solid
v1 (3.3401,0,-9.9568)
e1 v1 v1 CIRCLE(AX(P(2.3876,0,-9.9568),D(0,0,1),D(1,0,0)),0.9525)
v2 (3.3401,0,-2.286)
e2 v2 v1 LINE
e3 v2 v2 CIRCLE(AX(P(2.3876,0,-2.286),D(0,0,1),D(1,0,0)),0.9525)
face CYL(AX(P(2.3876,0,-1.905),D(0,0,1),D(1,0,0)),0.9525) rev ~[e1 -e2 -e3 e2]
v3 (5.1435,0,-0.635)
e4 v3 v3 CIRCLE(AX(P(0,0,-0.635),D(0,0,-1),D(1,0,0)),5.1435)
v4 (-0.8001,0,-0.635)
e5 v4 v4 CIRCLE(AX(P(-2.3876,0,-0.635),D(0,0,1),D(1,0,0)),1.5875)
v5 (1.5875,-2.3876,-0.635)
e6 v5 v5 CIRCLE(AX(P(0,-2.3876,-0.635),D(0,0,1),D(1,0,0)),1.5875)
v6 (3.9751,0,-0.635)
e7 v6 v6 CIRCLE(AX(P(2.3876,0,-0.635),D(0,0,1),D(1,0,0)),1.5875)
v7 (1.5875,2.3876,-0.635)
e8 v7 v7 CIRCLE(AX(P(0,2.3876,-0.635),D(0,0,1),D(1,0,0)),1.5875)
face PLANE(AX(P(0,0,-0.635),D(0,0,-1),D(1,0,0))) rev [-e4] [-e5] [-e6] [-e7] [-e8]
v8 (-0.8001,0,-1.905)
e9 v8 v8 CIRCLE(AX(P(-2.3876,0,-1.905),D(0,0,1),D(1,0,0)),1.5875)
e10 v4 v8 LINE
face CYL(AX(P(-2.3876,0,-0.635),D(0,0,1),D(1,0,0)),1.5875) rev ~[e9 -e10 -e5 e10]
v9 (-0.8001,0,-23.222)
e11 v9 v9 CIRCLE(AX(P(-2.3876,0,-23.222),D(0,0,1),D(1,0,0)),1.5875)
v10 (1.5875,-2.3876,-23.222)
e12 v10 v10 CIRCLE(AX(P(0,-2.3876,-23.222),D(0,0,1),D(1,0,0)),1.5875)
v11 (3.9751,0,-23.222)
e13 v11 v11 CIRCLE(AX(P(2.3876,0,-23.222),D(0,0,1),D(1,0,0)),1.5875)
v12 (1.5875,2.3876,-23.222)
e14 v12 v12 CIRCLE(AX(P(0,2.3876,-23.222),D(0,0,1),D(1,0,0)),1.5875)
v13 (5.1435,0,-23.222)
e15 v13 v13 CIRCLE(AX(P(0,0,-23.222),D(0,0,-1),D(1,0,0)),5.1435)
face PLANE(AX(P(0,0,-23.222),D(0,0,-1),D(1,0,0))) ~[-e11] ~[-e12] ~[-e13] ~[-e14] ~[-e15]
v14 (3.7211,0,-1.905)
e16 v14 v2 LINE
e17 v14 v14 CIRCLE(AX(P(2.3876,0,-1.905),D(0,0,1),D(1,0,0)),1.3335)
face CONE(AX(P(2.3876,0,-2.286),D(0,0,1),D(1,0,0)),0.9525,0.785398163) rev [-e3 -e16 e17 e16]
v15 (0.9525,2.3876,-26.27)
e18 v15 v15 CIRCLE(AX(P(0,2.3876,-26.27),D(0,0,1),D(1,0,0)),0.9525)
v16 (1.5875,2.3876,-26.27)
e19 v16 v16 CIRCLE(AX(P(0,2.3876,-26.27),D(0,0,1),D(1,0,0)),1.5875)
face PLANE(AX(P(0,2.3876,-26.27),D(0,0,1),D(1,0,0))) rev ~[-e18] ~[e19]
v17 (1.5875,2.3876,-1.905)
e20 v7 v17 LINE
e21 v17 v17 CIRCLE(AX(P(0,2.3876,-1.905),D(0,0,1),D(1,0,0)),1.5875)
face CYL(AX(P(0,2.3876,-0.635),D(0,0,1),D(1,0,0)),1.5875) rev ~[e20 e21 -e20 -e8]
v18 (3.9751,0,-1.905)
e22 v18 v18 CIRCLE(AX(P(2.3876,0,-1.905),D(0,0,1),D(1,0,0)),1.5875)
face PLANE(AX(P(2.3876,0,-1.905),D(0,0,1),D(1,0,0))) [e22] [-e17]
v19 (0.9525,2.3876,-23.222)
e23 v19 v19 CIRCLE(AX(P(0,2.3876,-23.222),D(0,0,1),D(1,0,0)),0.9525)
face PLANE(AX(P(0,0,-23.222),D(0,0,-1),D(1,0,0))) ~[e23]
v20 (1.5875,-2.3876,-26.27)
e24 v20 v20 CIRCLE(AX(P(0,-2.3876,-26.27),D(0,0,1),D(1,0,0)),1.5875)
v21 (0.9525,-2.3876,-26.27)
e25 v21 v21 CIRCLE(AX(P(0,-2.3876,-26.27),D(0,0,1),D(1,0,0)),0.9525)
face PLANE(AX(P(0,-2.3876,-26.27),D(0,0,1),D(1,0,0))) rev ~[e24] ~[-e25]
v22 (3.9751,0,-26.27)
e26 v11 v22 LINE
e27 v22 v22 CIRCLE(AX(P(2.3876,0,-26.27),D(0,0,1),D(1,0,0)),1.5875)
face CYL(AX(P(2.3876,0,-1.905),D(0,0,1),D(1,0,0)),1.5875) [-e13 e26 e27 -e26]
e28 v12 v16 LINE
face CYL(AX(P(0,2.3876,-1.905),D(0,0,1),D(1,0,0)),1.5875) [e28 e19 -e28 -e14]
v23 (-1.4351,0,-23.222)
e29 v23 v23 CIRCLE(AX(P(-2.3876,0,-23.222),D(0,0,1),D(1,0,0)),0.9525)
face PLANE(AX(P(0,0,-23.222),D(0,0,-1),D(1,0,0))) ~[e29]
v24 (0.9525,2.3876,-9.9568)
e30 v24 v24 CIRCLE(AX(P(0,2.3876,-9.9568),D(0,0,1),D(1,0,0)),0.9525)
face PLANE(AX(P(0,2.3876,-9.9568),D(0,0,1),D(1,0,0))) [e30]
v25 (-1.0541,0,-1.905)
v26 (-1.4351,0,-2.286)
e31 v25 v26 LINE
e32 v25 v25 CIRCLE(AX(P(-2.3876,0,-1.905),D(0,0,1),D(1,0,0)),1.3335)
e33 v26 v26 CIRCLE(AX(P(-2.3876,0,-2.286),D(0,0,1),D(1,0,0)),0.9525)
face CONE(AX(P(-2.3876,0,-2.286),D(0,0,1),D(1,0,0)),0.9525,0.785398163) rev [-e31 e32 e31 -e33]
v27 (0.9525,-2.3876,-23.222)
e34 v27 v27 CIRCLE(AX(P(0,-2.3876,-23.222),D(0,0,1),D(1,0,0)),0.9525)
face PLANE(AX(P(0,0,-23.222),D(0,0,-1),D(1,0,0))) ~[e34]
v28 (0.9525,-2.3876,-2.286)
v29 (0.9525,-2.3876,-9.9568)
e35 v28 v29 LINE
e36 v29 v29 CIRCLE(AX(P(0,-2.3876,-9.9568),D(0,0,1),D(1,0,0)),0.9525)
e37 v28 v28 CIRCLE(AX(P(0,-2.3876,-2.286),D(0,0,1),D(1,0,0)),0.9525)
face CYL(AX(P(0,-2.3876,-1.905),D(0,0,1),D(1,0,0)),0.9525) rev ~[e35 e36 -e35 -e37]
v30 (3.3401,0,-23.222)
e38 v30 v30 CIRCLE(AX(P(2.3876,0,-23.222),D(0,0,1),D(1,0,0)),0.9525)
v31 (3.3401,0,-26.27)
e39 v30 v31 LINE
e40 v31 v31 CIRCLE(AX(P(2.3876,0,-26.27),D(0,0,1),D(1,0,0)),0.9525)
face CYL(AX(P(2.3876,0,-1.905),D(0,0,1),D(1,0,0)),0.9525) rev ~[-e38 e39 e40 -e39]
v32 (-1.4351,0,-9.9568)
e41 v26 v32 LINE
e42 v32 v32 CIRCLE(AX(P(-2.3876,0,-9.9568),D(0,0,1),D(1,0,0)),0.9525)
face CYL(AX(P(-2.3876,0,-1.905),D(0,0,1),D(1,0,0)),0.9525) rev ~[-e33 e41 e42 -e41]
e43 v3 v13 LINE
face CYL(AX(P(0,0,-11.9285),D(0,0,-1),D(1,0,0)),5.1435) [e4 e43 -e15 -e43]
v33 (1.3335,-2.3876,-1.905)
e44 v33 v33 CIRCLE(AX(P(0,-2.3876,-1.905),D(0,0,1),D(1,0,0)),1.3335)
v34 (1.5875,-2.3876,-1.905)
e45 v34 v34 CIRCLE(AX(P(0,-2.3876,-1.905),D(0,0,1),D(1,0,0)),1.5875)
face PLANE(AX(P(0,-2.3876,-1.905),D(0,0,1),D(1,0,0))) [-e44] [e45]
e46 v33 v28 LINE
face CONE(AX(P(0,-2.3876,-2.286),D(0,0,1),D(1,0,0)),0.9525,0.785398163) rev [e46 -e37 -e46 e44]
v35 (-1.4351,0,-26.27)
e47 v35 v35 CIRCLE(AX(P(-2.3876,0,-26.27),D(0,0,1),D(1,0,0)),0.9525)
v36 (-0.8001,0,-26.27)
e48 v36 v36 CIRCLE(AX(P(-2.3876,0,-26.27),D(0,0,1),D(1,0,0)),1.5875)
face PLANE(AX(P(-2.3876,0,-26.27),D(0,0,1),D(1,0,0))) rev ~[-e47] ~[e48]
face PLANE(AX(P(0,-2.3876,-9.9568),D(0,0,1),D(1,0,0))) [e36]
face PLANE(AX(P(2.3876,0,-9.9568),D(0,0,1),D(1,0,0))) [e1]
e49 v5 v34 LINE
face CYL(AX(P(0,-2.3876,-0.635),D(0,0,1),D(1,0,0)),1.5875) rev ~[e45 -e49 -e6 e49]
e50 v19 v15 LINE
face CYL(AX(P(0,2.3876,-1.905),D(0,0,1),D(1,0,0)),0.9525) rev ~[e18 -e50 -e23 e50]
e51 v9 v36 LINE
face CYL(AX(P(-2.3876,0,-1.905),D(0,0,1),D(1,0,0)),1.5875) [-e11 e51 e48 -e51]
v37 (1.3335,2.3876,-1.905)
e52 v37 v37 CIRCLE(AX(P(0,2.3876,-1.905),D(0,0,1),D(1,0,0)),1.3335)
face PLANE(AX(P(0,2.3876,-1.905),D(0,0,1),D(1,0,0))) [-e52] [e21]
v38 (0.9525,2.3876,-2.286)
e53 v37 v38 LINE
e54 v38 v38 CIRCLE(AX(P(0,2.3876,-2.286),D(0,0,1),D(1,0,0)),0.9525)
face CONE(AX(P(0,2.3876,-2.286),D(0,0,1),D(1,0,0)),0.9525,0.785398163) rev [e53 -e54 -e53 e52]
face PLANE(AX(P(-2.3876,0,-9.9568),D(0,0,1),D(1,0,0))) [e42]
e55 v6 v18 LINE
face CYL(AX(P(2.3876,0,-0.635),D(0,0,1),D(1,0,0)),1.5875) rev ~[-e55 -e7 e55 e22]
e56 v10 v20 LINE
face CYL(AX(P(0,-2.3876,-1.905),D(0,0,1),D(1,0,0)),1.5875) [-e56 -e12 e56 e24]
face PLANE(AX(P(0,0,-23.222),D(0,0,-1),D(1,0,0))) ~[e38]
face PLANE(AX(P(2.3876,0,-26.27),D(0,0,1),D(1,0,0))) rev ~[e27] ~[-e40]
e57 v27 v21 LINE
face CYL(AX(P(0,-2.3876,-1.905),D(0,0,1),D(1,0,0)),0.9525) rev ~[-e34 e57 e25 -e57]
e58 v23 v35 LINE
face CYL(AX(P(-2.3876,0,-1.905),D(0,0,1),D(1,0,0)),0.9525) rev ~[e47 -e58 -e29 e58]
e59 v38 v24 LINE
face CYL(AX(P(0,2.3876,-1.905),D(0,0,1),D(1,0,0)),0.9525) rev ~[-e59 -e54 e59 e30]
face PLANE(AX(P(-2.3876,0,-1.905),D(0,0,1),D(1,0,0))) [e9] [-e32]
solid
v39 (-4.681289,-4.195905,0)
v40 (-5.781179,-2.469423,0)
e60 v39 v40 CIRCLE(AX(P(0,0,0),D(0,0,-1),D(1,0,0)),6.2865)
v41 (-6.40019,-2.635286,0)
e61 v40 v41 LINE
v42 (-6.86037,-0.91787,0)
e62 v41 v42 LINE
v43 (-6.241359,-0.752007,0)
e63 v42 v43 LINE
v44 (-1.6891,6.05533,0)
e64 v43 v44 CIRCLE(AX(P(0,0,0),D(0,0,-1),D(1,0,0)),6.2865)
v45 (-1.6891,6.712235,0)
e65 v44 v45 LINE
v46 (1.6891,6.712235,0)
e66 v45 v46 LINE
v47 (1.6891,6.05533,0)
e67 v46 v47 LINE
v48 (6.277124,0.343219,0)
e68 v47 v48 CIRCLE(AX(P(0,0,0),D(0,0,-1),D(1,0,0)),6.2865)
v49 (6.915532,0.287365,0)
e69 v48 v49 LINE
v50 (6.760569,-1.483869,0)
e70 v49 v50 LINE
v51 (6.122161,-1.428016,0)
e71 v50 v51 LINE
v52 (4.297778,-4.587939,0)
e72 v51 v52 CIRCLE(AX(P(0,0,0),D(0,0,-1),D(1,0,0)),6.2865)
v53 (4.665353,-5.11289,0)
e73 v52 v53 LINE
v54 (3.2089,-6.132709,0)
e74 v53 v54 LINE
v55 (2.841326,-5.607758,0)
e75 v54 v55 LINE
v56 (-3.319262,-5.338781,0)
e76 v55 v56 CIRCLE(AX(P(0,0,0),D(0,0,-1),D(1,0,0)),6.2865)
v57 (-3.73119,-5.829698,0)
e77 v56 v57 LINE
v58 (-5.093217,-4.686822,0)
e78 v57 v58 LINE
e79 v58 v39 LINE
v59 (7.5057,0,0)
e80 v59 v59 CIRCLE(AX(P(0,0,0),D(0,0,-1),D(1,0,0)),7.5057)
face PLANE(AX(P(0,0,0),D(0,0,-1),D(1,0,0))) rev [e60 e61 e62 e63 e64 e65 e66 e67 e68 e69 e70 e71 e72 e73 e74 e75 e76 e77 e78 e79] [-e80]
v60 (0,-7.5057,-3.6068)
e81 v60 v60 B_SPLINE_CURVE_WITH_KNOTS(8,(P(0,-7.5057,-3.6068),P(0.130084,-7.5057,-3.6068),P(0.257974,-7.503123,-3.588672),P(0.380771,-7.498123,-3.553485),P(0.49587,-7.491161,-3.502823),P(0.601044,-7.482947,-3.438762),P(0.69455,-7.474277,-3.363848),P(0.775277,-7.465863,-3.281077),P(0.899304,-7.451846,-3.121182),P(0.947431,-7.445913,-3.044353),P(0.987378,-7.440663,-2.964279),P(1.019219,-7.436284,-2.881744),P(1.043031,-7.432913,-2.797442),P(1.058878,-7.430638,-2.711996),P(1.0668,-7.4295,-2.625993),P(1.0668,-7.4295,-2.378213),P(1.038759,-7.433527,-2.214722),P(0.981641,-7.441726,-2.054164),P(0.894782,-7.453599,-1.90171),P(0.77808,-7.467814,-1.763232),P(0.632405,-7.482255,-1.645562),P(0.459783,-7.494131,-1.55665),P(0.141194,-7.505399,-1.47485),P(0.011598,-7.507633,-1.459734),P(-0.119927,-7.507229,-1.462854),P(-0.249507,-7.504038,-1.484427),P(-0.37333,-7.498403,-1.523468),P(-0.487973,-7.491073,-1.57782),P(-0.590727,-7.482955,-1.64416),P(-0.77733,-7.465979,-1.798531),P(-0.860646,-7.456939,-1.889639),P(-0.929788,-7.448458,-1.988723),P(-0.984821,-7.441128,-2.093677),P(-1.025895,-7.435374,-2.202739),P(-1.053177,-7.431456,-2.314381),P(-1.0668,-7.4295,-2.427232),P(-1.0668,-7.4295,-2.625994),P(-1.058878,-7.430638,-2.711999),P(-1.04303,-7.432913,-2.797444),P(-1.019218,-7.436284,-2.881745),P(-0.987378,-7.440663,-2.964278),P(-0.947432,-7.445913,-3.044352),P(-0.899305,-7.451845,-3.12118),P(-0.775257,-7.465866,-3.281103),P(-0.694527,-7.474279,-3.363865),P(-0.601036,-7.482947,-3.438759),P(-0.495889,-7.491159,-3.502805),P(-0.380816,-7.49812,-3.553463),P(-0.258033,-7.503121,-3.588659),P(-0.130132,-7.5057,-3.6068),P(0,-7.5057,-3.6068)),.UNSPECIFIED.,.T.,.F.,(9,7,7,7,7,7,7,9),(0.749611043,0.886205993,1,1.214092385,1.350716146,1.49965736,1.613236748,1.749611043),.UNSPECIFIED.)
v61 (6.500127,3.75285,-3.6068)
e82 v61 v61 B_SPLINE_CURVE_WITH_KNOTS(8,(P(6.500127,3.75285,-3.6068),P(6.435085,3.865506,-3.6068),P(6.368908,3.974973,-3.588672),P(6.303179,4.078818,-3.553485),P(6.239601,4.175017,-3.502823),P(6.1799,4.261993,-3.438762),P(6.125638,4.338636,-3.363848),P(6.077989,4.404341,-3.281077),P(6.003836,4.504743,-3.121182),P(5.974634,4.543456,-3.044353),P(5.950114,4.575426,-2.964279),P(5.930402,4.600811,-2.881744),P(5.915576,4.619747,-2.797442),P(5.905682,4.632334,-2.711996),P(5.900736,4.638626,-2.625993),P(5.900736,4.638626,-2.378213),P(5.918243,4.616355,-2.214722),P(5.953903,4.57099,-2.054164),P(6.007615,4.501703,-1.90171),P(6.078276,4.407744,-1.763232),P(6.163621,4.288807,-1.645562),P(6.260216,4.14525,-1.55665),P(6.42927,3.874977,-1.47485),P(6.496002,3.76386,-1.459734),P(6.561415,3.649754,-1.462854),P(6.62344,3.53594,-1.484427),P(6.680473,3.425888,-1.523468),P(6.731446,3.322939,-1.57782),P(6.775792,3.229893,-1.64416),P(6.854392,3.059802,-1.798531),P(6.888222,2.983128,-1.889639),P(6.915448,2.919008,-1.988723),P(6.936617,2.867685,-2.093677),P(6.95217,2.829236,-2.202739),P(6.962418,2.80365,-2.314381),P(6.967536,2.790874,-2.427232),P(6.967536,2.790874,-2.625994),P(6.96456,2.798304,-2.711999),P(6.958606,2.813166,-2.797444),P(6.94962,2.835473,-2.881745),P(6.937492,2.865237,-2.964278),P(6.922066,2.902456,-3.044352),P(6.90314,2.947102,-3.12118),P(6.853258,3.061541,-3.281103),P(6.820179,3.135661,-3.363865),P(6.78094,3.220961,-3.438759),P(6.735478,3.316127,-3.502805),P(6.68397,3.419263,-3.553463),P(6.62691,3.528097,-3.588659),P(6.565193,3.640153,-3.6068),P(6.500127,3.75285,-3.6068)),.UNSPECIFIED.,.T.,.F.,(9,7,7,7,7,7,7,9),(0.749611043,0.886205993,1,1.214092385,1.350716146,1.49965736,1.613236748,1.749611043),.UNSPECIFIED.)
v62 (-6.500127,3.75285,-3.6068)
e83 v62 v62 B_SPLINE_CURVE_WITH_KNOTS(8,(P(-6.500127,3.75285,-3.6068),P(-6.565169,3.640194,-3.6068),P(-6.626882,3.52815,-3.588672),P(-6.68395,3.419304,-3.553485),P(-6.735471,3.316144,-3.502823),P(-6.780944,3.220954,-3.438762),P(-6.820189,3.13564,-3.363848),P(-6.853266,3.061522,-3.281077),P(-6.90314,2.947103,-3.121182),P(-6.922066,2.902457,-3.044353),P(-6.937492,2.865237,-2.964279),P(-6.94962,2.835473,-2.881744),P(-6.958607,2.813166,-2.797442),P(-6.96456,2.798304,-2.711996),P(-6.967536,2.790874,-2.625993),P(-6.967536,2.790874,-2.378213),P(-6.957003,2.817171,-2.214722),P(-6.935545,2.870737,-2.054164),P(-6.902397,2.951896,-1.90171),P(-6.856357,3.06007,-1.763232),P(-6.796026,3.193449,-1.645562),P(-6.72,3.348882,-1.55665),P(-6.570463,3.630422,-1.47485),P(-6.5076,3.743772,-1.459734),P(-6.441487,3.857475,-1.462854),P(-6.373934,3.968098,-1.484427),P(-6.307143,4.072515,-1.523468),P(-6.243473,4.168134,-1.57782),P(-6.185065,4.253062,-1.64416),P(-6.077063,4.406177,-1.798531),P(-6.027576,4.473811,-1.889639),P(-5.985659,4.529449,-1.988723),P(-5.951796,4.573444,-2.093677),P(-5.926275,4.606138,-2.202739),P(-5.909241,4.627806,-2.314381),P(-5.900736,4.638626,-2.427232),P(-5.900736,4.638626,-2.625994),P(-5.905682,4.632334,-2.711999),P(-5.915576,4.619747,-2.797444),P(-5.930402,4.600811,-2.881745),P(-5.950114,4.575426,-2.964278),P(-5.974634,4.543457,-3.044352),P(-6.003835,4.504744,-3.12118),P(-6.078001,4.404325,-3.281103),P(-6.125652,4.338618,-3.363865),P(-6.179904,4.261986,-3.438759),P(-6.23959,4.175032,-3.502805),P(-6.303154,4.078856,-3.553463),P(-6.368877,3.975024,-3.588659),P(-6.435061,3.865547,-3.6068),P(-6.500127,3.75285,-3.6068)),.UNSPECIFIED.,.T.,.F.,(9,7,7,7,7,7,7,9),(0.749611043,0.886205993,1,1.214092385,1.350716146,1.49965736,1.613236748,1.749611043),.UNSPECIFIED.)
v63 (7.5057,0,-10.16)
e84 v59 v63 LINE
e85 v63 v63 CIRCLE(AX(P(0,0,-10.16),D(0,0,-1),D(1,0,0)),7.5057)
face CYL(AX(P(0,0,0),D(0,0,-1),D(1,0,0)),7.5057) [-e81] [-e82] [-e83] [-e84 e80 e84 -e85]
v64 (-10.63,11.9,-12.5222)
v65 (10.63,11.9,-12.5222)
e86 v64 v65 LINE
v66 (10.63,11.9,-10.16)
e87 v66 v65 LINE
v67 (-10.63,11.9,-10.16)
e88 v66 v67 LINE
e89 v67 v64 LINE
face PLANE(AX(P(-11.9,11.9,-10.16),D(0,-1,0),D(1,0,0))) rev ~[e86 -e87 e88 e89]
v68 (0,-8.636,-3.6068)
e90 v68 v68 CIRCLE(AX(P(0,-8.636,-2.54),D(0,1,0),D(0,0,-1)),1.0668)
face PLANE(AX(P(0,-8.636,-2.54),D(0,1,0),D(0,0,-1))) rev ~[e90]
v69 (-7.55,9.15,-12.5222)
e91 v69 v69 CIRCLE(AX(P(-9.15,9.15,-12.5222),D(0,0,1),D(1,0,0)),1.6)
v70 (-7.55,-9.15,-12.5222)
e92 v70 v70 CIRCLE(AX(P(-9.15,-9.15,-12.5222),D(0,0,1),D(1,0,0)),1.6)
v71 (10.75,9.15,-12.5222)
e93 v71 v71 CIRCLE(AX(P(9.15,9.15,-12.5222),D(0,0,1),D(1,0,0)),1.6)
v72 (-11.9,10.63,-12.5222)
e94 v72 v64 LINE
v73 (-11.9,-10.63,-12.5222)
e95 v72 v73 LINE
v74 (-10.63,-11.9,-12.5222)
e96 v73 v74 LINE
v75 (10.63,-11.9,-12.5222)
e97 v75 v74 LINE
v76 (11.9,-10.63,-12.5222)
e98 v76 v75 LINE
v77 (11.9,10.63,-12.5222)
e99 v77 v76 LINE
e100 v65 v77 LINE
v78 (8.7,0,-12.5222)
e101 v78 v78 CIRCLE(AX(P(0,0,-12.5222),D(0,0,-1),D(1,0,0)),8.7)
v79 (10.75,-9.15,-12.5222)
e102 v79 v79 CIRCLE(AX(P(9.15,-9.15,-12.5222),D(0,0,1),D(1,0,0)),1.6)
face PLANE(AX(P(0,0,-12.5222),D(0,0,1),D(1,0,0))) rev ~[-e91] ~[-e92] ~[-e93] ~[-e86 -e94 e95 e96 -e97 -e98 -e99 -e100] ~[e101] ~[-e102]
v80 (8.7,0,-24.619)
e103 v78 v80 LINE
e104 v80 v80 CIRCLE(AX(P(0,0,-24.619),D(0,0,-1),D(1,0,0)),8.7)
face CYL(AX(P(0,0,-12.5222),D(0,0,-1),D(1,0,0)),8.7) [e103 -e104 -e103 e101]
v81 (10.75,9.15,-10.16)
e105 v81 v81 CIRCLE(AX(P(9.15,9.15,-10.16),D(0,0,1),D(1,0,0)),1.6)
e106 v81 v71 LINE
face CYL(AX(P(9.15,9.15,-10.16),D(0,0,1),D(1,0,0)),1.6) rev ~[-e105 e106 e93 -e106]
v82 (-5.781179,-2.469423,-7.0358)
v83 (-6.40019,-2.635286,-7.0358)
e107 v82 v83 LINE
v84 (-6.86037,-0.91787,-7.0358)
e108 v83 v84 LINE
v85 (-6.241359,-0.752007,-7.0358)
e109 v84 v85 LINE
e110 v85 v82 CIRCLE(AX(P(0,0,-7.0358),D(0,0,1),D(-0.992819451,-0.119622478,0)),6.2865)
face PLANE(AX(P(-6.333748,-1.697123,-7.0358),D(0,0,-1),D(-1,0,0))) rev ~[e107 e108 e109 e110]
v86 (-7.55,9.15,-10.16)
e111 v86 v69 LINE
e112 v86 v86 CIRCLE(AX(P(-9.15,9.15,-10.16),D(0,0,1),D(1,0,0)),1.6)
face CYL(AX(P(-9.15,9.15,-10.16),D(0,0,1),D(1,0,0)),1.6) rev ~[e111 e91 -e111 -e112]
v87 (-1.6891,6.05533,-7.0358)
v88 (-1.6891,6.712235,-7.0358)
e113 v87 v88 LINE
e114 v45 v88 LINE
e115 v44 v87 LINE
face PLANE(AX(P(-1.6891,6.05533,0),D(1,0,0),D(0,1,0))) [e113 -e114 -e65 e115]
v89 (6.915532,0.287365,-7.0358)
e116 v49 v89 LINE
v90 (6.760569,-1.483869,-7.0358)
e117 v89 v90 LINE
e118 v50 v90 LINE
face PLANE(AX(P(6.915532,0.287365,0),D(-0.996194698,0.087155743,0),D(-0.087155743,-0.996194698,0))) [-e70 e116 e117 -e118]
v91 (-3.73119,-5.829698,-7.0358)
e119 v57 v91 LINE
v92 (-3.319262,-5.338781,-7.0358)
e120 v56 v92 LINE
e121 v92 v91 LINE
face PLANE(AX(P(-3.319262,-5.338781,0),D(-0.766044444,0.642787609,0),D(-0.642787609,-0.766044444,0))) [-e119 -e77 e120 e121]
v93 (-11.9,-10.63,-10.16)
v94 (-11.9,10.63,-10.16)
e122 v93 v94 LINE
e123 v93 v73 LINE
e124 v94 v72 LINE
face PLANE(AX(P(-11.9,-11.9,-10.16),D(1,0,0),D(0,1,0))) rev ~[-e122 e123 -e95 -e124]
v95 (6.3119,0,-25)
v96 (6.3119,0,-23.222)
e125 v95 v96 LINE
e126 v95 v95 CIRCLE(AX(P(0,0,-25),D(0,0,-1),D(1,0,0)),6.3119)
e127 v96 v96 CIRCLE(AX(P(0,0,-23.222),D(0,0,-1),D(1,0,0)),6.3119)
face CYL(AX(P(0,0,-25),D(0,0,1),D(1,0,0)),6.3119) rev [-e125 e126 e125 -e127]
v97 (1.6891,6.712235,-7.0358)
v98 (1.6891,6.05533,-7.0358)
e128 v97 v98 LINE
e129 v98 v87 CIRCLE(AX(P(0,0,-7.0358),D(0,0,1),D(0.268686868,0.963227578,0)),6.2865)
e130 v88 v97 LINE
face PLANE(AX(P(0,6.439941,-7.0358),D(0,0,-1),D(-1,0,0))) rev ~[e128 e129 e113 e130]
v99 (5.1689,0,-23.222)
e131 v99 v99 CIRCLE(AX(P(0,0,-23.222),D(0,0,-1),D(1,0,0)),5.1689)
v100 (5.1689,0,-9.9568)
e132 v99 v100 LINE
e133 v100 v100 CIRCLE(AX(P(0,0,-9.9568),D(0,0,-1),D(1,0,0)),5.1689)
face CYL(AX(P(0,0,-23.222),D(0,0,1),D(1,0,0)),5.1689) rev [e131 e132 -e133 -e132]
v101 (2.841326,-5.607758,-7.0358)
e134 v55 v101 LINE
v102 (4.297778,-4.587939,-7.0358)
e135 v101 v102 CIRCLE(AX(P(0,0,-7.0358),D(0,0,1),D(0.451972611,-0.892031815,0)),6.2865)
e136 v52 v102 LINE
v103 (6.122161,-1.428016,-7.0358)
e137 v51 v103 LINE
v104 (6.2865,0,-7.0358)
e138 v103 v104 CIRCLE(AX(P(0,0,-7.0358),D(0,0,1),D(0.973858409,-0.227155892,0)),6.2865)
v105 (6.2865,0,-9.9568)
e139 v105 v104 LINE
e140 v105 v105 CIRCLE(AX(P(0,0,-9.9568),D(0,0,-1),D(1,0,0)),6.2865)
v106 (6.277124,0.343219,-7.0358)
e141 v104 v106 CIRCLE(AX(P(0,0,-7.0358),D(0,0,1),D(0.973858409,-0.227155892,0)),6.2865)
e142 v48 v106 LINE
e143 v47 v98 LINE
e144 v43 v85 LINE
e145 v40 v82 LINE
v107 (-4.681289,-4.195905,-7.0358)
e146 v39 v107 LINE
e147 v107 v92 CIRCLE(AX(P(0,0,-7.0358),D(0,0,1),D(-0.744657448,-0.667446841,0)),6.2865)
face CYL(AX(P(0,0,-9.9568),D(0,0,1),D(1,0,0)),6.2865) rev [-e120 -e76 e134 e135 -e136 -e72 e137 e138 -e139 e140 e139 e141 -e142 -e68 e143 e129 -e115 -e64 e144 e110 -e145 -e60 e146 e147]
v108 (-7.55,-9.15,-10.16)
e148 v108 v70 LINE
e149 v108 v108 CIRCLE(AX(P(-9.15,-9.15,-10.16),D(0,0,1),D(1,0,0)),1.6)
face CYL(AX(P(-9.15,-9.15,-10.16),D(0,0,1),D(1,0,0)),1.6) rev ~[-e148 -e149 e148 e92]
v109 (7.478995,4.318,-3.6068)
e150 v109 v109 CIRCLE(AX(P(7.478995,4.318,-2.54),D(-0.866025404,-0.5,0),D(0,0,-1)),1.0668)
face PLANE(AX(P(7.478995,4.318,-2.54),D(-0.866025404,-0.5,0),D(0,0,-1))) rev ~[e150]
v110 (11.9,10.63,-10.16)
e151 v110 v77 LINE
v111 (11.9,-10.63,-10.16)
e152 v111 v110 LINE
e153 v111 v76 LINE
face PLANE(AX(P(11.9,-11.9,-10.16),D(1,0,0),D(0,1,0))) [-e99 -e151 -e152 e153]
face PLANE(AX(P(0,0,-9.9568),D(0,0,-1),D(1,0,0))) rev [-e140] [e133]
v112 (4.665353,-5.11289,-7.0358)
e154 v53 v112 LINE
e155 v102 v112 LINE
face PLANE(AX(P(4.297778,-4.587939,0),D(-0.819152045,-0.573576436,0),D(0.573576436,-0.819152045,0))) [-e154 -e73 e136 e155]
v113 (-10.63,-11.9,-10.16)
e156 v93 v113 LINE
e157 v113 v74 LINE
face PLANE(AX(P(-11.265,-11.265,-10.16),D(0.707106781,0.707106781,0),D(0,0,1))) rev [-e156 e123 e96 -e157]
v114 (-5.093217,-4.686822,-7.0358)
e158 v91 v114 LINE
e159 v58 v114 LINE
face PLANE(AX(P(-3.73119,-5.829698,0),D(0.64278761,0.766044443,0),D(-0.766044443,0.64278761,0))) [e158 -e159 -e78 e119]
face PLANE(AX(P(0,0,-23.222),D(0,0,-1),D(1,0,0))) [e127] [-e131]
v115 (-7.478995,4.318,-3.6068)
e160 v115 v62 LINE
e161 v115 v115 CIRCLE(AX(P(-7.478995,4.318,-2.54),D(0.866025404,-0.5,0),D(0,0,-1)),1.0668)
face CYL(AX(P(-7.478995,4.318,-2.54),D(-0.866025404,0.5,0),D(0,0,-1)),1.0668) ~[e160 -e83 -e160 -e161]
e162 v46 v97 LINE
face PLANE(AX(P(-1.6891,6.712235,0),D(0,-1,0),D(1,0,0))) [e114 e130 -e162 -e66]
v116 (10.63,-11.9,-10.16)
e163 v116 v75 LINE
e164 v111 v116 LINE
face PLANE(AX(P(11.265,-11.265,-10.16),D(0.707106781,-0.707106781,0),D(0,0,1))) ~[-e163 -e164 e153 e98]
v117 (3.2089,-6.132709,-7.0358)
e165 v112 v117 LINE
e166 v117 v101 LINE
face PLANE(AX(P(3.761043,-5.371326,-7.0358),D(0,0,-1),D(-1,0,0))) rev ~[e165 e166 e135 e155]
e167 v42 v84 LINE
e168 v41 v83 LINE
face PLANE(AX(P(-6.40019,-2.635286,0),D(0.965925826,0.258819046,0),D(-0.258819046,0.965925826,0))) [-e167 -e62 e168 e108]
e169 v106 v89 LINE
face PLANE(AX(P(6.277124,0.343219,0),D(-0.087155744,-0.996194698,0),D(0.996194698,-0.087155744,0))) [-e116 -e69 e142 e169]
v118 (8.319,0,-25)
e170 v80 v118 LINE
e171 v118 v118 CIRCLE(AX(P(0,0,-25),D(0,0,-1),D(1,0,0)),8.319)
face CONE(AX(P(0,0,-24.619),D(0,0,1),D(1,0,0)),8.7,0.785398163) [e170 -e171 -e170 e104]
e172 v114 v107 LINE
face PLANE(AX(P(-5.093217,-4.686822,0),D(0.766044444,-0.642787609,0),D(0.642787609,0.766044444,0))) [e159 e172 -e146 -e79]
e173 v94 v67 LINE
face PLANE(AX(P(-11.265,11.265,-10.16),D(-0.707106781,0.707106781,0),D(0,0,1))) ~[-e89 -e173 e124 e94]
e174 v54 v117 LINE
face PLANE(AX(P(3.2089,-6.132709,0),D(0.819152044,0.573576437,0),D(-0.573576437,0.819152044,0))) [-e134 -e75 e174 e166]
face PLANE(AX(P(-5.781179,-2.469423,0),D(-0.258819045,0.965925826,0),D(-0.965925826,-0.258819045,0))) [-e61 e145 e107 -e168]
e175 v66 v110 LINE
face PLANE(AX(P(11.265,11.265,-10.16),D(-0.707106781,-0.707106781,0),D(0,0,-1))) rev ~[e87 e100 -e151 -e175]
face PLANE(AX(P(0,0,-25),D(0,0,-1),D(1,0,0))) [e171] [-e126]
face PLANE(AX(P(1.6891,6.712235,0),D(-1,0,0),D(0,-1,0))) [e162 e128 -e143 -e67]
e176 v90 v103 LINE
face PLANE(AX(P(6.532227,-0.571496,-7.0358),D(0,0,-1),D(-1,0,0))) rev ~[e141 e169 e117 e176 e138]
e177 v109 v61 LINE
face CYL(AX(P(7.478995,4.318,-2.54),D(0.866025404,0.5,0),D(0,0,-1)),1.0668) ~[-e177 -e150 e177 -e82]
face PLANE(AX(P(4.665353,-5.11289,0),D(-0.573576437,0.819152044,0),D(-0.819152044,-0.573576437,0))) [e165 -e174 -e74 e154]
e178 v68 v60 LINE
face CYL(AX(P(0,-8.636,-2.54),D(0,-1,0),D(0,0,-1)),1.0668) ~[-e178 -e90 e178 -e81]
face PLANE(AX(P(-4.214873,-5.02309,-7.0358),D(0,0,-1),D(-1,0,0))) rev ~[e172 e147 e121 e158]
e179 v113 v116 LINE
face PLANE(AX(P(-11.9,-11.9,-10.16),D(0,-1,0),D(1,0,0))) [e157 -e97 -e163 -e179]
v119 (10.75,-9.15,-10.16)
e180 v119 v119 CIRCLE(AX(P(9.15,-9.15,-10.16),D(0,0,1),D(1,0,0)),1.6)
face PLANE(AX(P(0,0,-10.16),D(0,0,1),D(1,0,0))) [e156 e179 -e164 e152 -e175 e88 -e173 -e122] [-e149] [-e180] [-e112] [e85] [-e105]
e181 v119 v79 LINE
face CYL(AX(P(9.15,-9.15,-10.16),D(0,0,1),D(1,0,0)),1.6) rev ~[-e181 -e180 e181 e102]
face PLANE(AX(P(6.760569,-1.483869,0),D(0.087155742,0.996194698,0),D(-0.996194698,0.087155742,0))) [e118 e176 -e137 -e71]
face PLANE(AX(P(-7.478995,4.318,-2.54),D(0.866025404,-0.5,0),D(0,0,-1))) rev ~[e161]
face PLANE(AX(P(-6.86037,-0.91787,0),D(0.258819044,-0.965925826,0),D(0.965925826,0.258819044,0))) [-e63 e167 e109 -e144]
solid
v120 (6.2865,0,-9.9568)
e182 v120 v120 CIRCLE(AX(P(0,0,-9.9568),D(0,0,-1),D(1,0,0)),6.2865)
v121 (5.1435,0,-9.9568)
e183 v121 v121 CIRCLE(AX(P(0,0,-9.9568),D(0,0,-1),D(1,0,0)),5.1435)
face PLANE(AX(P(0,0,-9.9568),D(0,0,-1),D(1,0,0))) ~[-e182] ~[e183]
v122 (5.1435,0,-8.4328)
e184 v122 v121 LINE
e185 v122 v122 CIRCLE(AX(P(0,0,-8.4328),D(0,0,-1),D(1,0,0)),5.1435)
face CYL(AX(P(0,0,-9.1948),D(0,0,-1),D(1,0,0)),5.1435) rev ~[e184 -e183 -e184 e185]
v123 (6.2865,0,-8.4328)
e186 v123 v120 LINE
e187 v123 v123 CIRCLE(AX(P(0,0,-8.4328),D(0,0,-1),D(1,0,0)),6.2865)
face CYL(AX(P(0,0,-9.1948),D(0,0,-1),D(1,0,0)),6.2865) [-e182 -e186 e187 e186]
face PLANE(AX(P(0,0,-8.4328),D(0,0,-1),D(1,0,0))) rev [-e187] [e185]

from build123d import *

# Parameters (mm, degrees)
SKETCH3_W               = 22.587
SKETCH3_H               = 5.1435
SKETCH4_W               = 23.8
SKETCH4_H               = 23.8
SKETCH4_R               = 9.15
BOSS_EXTRUDE3_DEPTH     = 2.3622
CHAMFER1_SIZE           = 1.27
SKETCH5_R               = 1.6
CUT_EXTRUDE1_DEPTH      = 2.3622
CUT_EXTRUDE2_DEPTH      = 7.0358
BOSS_EXTRUDE2_START     = -8.636
SKETCH7_R               = 1.0668
BOSS_EXTRUDE2_DEPTH     = 1.2065
CIRPATTERN1_COUNT       = 3
SKETCH8_W               = 1.524
SKETCH8_H               = 1.143
SKETCH10_XS_R           = 1.5875
CUT_EXTRUDE10_XS_DEPTH  = 9.3218
EXTRUDE_THIN10_XS_START = -1.27
SKETCH10_XS_2_R         = 1.5875
SKETCH10_XS_2_R_2       = 0.9525
EXTRUDE_THIN10_XS_DEPTH = 24.365
CHAMFER10_XS_SIZE       = 0.381


with BuildPart() as part:
    # Sketch3 → Revolve1 (revolve)
    with BuildSketch(Plane(origin=(0, 0, 0), x_dir=(0, 0, -1), z_dir=(1, 0, 0)), mode=Mode.PRIVATE) as revolve1_sk:
        Polygon((12.5222, 11.9), (12.5222, 8.7), (24.619, 8.7), (25, 8.319), (25, 6.3119), (23.222, 6.3119), (23.222, 5.1689), (9.9568, 5.1689), (9.9568, 6.2865), (0, 6.2865), (0, 7.5057), (10.16, 7.5057), (10.16, 11.9), align=None)
        with Locations((11.9285, 2.57175)):
            Rectangle(SKETCH3_W, SKETCH3_H)
    revolve(revolve1_sk.sketch.rotate(Axis((0, 0, 0), (0, 0, -1)), 90), axis=Axis((0, 0, 0), (0, 0, -1)))

    # Sketch4 → Boss-Extrude3 (add)
    with BuildSketch(Plane.XY.offset(-10.16)):
        Rectangle(SKETCH4_W, SKETCH4_H)
        Circle(SKETCH4_R, mode=Mode.SUBTRACT)
    extrude(amount=-BOSS_EXTRUDE3_DEPTH)

    # Chamfer1
    chamfer1_edges = [part.edges().sort_by_distance(p)[0] for p in [
        (-11.9, -11.9, -11.3411),
        (-11.9, 11.9, -11.3411),
        (11.9, 11.9, -11.3411),
        (11.9, -11.9, -11.3411),
    ]]
    chamfer(chamfer1_edges, length=CHAMFER1_SIZE)

    # Sketch5 → Cut-Extrude1 (cut)
    with BuildSketch(Plane.XY.offset(-10.16)):
        with Locations((-9.15, 9.15)):
            Circle(SKETCH5_R)
        with Locations((9.15, 9.15)):
            Circle(SKETCH5_R)
        with Locations((9.15, -9.15)):
            Circle(SKETCH5_R)
        with Locations((-9.15, -9.15)):
            Circle(SKETCH5_R)
    extrude(amount=-CUT_EXTRUDE1_DEPTH, mode=Mode.SUBTRACT)

    # Sketch6 → Cut-Extrude2 (cut)
    with BuildSketch(Plane.XY):
        with BuildLine():
            Line((-1.6891, 6.712235353), (1.6891, 6.712235353))
            Line((1.6891, 6.712235353), (1.6891, 6.055330168))
            ThreePointArc((1.6891, 6.055330168), (0, 6.2865), (-1.6891, 6.055330168))
            Line((-1.6891, 6.055330168), (-1.6891, 6.712235353))
        make_face()
        with BuildLine():
            Line((-6.400189754, -2.6352862), (-6.860370017, -0.917870081))
            Line((-6.860370017, -0.917870081), (-6.24135948, -0.752006708))
            ThreePointArc((-6.24135948, -0.752006708), (-6.072292707, -1.627065927), (-5.781179218, -2.469422827))
            Line((-5.781179218, -2.469422827), (-6.400189754, -2.6352862))
        make_face()
        with BuildLine():
            Line((-3.731190453, -5.82969811), (-5.093217473, -4.68682174))
            Line((-5.093217473, -4.68682174), (-4.68128905, -4.195904561))
            ThreePointArc((-4.68128905, -4.195904561), (-4.040884308, -4.815738392), (-3.31926203, -5.338780931))
            Line((-3.31926203, -5.338780931), (-3.731190453, -5.82969811))
        make_face()
        with BuildLine():
            Line((4.665352813, -5.11289012), (3.208900479, -6.132709024))
            Line((3.208900479, -6.132709024), (2.841325818, -5.607758005))
            ThreePointArc((2.841325818, -5.607758005), (3.605788267, -5.149599326), (4.297778153, -4.587939101))
            Line((4.297778153, -4.587939101), (4.665352813, -5.11289012))
        make_face()
        with BuildLine():
            Line((6.915532048, 0.287365179), (6.760569137, -1.483868994))
            Line((6.760569137, -1.483868994), (6.122160889, -1.42801551))
            ThreePointArc((6.122160889, -1.42801551), (6.26257797, -0.547904577), (6.2771238, 0.343218664))
            Line((6.2771238, 0.343218664), (6.915532048, 0.287365179))
        make_face()
    extrude(amount=-CUT_EXTRUDE2_DEPTH, mode=Mode.SUBTRACT)

    # Sketch7 → Boss-Extrude2 (add)
    with BuildSketch(Plane(origin=(0, 0, 0), x_dir=(1, 0, 0), z_dir=(0, 1, 0)).offset(BOSS_EXTRUDE2_START)):
        with Locations(Location((0, 2.54, 0), (0, 0, 90))):
            Circle(SKETCH7_R)
    boss_extrude2 = extrude(amount=BOSS_EXTRUDE2_DEPTH)

    # CirPattern1: Boss-Extrude2 ×3 about axis
    cirpattern1_axis = Axis((0, 0, 0), (0, 0, 1))
    for i in range(1, CIRPATTERN1_COUNT):
        add(boss_extrude2.rotate(cirpattern1_axis, i * 360 / CIRPATTERN1_COUNT))

    # Sketch10-xS → Cut-Extrude10-xS (cut)
    with BuildSketch(Plane.XY.offset(-0.635)):
        with Locations((0, 2.3876)):
            Circle(SKETCH10_XS_R)
        with Locations((2.3876, 0)):
            Circle(SKETCH10_XS_R)
        with Locations((0, -2.3876)):
            Circle(SKETCH10_XS_R)
        with Locations((-2.3876, 0)):
            Circle(SKETCH10_XS_R)
    extrude(amount=-CUT_EXTRUDE10_XS_DEPTH, mode=Mode.SUBTRACT)

    # Sketch10-xS<2> → Extrude-Thin10-xS (add)
    # profile 1 of 4: a face of its own
    with BuildSketch(Plane.XY.offset(-0.635).offset(EXTRUDE_THIN10_XS_START)):
        with Locations((0, 2.3876)):
            Circle(SKETCH10_XS_2_R)
        with Locations((0, 2.3876)):
            Circle(SKETCH10_XS_2_R_2, mode=Mode.SUBTRACT)
    # profile 2 of 4: a face of its own
    with BuildSketch(Plane.XY.offset(-0.635).offset(EXTRUDE_THIN10_XS_START)):
        with Locations((2.3876, 0)):
            Circle(SKETCH10_XS_2_R)
        with Locations((2.3876, 0)):
            Circle(SKETCH10_XS_2_R_2, mode=Mode.SUBTRACT)
    # profile 3 of 4: a face of its own
    with BuildSketch(Plane.XY.offset(-0.635).offset(EXTRUDE_THIN10_XS_START)):
        with Locations((0, -2.3876)):
            Circle(SKETCH10_XS_2_R)
        with Locations((0, -2.3876)):
            Circle(SKETCH10_XS_2_R_2, mode=Mode.SUBTRACT)
    # profile 4 of 4: a face of its own
    with BuildSketch(Plane.XY.offset(-0.635).offset(EXTRUDE_THIN10_XS_START)):
        with Locations((-2.3876, 0)):
            Circle(SKETCH10_XS_2_R)
        with Locations((-2.3876, 0)):
            Circle(SKETCH10_XS_2_R_2, mode=Mode.SUBTRACT)
    extrude(amount=-EXTRUDE_THIN10_XS_DEPTH)

    # Chamfer10-xS
    chamfer10_xs_edges = [part.edges().sort_by_distance(p)[0] for p in [
        (-0.9525, 2.3876, -1.905),
        (1.4351, 0, -1.905),
        (-0.9525, -2.3876, -1.905),
        (-3.3401, 0, -1.905),
    ]]
    chamfer(chamfer10_xs_edges, length=CHAMFER10_XS_SIZE)


with BuildPart() as body_2:
    # Sketch8 → Revolve2 (revolve)
    with BuildSketch(Plane(origin=(0, 0, 0), x_dir=(0, 0, -1), z_dir=(1, 0, 0)), mode=Mode.PRIVATE) as revolve2_sk:
        with Locations((9.1948, 5.715)):
            Rectangle(SKETCH8_W, SKETCH8_H)
    revolve(revolve2_sk.sketch.rotate(Axis((0, 0, -8.4328), (0, 0, -1)), 90), axis=Axis((0, 0, -8.4328), (0, 0, -1)))


solid = Compound([part.part, body_2.part])
